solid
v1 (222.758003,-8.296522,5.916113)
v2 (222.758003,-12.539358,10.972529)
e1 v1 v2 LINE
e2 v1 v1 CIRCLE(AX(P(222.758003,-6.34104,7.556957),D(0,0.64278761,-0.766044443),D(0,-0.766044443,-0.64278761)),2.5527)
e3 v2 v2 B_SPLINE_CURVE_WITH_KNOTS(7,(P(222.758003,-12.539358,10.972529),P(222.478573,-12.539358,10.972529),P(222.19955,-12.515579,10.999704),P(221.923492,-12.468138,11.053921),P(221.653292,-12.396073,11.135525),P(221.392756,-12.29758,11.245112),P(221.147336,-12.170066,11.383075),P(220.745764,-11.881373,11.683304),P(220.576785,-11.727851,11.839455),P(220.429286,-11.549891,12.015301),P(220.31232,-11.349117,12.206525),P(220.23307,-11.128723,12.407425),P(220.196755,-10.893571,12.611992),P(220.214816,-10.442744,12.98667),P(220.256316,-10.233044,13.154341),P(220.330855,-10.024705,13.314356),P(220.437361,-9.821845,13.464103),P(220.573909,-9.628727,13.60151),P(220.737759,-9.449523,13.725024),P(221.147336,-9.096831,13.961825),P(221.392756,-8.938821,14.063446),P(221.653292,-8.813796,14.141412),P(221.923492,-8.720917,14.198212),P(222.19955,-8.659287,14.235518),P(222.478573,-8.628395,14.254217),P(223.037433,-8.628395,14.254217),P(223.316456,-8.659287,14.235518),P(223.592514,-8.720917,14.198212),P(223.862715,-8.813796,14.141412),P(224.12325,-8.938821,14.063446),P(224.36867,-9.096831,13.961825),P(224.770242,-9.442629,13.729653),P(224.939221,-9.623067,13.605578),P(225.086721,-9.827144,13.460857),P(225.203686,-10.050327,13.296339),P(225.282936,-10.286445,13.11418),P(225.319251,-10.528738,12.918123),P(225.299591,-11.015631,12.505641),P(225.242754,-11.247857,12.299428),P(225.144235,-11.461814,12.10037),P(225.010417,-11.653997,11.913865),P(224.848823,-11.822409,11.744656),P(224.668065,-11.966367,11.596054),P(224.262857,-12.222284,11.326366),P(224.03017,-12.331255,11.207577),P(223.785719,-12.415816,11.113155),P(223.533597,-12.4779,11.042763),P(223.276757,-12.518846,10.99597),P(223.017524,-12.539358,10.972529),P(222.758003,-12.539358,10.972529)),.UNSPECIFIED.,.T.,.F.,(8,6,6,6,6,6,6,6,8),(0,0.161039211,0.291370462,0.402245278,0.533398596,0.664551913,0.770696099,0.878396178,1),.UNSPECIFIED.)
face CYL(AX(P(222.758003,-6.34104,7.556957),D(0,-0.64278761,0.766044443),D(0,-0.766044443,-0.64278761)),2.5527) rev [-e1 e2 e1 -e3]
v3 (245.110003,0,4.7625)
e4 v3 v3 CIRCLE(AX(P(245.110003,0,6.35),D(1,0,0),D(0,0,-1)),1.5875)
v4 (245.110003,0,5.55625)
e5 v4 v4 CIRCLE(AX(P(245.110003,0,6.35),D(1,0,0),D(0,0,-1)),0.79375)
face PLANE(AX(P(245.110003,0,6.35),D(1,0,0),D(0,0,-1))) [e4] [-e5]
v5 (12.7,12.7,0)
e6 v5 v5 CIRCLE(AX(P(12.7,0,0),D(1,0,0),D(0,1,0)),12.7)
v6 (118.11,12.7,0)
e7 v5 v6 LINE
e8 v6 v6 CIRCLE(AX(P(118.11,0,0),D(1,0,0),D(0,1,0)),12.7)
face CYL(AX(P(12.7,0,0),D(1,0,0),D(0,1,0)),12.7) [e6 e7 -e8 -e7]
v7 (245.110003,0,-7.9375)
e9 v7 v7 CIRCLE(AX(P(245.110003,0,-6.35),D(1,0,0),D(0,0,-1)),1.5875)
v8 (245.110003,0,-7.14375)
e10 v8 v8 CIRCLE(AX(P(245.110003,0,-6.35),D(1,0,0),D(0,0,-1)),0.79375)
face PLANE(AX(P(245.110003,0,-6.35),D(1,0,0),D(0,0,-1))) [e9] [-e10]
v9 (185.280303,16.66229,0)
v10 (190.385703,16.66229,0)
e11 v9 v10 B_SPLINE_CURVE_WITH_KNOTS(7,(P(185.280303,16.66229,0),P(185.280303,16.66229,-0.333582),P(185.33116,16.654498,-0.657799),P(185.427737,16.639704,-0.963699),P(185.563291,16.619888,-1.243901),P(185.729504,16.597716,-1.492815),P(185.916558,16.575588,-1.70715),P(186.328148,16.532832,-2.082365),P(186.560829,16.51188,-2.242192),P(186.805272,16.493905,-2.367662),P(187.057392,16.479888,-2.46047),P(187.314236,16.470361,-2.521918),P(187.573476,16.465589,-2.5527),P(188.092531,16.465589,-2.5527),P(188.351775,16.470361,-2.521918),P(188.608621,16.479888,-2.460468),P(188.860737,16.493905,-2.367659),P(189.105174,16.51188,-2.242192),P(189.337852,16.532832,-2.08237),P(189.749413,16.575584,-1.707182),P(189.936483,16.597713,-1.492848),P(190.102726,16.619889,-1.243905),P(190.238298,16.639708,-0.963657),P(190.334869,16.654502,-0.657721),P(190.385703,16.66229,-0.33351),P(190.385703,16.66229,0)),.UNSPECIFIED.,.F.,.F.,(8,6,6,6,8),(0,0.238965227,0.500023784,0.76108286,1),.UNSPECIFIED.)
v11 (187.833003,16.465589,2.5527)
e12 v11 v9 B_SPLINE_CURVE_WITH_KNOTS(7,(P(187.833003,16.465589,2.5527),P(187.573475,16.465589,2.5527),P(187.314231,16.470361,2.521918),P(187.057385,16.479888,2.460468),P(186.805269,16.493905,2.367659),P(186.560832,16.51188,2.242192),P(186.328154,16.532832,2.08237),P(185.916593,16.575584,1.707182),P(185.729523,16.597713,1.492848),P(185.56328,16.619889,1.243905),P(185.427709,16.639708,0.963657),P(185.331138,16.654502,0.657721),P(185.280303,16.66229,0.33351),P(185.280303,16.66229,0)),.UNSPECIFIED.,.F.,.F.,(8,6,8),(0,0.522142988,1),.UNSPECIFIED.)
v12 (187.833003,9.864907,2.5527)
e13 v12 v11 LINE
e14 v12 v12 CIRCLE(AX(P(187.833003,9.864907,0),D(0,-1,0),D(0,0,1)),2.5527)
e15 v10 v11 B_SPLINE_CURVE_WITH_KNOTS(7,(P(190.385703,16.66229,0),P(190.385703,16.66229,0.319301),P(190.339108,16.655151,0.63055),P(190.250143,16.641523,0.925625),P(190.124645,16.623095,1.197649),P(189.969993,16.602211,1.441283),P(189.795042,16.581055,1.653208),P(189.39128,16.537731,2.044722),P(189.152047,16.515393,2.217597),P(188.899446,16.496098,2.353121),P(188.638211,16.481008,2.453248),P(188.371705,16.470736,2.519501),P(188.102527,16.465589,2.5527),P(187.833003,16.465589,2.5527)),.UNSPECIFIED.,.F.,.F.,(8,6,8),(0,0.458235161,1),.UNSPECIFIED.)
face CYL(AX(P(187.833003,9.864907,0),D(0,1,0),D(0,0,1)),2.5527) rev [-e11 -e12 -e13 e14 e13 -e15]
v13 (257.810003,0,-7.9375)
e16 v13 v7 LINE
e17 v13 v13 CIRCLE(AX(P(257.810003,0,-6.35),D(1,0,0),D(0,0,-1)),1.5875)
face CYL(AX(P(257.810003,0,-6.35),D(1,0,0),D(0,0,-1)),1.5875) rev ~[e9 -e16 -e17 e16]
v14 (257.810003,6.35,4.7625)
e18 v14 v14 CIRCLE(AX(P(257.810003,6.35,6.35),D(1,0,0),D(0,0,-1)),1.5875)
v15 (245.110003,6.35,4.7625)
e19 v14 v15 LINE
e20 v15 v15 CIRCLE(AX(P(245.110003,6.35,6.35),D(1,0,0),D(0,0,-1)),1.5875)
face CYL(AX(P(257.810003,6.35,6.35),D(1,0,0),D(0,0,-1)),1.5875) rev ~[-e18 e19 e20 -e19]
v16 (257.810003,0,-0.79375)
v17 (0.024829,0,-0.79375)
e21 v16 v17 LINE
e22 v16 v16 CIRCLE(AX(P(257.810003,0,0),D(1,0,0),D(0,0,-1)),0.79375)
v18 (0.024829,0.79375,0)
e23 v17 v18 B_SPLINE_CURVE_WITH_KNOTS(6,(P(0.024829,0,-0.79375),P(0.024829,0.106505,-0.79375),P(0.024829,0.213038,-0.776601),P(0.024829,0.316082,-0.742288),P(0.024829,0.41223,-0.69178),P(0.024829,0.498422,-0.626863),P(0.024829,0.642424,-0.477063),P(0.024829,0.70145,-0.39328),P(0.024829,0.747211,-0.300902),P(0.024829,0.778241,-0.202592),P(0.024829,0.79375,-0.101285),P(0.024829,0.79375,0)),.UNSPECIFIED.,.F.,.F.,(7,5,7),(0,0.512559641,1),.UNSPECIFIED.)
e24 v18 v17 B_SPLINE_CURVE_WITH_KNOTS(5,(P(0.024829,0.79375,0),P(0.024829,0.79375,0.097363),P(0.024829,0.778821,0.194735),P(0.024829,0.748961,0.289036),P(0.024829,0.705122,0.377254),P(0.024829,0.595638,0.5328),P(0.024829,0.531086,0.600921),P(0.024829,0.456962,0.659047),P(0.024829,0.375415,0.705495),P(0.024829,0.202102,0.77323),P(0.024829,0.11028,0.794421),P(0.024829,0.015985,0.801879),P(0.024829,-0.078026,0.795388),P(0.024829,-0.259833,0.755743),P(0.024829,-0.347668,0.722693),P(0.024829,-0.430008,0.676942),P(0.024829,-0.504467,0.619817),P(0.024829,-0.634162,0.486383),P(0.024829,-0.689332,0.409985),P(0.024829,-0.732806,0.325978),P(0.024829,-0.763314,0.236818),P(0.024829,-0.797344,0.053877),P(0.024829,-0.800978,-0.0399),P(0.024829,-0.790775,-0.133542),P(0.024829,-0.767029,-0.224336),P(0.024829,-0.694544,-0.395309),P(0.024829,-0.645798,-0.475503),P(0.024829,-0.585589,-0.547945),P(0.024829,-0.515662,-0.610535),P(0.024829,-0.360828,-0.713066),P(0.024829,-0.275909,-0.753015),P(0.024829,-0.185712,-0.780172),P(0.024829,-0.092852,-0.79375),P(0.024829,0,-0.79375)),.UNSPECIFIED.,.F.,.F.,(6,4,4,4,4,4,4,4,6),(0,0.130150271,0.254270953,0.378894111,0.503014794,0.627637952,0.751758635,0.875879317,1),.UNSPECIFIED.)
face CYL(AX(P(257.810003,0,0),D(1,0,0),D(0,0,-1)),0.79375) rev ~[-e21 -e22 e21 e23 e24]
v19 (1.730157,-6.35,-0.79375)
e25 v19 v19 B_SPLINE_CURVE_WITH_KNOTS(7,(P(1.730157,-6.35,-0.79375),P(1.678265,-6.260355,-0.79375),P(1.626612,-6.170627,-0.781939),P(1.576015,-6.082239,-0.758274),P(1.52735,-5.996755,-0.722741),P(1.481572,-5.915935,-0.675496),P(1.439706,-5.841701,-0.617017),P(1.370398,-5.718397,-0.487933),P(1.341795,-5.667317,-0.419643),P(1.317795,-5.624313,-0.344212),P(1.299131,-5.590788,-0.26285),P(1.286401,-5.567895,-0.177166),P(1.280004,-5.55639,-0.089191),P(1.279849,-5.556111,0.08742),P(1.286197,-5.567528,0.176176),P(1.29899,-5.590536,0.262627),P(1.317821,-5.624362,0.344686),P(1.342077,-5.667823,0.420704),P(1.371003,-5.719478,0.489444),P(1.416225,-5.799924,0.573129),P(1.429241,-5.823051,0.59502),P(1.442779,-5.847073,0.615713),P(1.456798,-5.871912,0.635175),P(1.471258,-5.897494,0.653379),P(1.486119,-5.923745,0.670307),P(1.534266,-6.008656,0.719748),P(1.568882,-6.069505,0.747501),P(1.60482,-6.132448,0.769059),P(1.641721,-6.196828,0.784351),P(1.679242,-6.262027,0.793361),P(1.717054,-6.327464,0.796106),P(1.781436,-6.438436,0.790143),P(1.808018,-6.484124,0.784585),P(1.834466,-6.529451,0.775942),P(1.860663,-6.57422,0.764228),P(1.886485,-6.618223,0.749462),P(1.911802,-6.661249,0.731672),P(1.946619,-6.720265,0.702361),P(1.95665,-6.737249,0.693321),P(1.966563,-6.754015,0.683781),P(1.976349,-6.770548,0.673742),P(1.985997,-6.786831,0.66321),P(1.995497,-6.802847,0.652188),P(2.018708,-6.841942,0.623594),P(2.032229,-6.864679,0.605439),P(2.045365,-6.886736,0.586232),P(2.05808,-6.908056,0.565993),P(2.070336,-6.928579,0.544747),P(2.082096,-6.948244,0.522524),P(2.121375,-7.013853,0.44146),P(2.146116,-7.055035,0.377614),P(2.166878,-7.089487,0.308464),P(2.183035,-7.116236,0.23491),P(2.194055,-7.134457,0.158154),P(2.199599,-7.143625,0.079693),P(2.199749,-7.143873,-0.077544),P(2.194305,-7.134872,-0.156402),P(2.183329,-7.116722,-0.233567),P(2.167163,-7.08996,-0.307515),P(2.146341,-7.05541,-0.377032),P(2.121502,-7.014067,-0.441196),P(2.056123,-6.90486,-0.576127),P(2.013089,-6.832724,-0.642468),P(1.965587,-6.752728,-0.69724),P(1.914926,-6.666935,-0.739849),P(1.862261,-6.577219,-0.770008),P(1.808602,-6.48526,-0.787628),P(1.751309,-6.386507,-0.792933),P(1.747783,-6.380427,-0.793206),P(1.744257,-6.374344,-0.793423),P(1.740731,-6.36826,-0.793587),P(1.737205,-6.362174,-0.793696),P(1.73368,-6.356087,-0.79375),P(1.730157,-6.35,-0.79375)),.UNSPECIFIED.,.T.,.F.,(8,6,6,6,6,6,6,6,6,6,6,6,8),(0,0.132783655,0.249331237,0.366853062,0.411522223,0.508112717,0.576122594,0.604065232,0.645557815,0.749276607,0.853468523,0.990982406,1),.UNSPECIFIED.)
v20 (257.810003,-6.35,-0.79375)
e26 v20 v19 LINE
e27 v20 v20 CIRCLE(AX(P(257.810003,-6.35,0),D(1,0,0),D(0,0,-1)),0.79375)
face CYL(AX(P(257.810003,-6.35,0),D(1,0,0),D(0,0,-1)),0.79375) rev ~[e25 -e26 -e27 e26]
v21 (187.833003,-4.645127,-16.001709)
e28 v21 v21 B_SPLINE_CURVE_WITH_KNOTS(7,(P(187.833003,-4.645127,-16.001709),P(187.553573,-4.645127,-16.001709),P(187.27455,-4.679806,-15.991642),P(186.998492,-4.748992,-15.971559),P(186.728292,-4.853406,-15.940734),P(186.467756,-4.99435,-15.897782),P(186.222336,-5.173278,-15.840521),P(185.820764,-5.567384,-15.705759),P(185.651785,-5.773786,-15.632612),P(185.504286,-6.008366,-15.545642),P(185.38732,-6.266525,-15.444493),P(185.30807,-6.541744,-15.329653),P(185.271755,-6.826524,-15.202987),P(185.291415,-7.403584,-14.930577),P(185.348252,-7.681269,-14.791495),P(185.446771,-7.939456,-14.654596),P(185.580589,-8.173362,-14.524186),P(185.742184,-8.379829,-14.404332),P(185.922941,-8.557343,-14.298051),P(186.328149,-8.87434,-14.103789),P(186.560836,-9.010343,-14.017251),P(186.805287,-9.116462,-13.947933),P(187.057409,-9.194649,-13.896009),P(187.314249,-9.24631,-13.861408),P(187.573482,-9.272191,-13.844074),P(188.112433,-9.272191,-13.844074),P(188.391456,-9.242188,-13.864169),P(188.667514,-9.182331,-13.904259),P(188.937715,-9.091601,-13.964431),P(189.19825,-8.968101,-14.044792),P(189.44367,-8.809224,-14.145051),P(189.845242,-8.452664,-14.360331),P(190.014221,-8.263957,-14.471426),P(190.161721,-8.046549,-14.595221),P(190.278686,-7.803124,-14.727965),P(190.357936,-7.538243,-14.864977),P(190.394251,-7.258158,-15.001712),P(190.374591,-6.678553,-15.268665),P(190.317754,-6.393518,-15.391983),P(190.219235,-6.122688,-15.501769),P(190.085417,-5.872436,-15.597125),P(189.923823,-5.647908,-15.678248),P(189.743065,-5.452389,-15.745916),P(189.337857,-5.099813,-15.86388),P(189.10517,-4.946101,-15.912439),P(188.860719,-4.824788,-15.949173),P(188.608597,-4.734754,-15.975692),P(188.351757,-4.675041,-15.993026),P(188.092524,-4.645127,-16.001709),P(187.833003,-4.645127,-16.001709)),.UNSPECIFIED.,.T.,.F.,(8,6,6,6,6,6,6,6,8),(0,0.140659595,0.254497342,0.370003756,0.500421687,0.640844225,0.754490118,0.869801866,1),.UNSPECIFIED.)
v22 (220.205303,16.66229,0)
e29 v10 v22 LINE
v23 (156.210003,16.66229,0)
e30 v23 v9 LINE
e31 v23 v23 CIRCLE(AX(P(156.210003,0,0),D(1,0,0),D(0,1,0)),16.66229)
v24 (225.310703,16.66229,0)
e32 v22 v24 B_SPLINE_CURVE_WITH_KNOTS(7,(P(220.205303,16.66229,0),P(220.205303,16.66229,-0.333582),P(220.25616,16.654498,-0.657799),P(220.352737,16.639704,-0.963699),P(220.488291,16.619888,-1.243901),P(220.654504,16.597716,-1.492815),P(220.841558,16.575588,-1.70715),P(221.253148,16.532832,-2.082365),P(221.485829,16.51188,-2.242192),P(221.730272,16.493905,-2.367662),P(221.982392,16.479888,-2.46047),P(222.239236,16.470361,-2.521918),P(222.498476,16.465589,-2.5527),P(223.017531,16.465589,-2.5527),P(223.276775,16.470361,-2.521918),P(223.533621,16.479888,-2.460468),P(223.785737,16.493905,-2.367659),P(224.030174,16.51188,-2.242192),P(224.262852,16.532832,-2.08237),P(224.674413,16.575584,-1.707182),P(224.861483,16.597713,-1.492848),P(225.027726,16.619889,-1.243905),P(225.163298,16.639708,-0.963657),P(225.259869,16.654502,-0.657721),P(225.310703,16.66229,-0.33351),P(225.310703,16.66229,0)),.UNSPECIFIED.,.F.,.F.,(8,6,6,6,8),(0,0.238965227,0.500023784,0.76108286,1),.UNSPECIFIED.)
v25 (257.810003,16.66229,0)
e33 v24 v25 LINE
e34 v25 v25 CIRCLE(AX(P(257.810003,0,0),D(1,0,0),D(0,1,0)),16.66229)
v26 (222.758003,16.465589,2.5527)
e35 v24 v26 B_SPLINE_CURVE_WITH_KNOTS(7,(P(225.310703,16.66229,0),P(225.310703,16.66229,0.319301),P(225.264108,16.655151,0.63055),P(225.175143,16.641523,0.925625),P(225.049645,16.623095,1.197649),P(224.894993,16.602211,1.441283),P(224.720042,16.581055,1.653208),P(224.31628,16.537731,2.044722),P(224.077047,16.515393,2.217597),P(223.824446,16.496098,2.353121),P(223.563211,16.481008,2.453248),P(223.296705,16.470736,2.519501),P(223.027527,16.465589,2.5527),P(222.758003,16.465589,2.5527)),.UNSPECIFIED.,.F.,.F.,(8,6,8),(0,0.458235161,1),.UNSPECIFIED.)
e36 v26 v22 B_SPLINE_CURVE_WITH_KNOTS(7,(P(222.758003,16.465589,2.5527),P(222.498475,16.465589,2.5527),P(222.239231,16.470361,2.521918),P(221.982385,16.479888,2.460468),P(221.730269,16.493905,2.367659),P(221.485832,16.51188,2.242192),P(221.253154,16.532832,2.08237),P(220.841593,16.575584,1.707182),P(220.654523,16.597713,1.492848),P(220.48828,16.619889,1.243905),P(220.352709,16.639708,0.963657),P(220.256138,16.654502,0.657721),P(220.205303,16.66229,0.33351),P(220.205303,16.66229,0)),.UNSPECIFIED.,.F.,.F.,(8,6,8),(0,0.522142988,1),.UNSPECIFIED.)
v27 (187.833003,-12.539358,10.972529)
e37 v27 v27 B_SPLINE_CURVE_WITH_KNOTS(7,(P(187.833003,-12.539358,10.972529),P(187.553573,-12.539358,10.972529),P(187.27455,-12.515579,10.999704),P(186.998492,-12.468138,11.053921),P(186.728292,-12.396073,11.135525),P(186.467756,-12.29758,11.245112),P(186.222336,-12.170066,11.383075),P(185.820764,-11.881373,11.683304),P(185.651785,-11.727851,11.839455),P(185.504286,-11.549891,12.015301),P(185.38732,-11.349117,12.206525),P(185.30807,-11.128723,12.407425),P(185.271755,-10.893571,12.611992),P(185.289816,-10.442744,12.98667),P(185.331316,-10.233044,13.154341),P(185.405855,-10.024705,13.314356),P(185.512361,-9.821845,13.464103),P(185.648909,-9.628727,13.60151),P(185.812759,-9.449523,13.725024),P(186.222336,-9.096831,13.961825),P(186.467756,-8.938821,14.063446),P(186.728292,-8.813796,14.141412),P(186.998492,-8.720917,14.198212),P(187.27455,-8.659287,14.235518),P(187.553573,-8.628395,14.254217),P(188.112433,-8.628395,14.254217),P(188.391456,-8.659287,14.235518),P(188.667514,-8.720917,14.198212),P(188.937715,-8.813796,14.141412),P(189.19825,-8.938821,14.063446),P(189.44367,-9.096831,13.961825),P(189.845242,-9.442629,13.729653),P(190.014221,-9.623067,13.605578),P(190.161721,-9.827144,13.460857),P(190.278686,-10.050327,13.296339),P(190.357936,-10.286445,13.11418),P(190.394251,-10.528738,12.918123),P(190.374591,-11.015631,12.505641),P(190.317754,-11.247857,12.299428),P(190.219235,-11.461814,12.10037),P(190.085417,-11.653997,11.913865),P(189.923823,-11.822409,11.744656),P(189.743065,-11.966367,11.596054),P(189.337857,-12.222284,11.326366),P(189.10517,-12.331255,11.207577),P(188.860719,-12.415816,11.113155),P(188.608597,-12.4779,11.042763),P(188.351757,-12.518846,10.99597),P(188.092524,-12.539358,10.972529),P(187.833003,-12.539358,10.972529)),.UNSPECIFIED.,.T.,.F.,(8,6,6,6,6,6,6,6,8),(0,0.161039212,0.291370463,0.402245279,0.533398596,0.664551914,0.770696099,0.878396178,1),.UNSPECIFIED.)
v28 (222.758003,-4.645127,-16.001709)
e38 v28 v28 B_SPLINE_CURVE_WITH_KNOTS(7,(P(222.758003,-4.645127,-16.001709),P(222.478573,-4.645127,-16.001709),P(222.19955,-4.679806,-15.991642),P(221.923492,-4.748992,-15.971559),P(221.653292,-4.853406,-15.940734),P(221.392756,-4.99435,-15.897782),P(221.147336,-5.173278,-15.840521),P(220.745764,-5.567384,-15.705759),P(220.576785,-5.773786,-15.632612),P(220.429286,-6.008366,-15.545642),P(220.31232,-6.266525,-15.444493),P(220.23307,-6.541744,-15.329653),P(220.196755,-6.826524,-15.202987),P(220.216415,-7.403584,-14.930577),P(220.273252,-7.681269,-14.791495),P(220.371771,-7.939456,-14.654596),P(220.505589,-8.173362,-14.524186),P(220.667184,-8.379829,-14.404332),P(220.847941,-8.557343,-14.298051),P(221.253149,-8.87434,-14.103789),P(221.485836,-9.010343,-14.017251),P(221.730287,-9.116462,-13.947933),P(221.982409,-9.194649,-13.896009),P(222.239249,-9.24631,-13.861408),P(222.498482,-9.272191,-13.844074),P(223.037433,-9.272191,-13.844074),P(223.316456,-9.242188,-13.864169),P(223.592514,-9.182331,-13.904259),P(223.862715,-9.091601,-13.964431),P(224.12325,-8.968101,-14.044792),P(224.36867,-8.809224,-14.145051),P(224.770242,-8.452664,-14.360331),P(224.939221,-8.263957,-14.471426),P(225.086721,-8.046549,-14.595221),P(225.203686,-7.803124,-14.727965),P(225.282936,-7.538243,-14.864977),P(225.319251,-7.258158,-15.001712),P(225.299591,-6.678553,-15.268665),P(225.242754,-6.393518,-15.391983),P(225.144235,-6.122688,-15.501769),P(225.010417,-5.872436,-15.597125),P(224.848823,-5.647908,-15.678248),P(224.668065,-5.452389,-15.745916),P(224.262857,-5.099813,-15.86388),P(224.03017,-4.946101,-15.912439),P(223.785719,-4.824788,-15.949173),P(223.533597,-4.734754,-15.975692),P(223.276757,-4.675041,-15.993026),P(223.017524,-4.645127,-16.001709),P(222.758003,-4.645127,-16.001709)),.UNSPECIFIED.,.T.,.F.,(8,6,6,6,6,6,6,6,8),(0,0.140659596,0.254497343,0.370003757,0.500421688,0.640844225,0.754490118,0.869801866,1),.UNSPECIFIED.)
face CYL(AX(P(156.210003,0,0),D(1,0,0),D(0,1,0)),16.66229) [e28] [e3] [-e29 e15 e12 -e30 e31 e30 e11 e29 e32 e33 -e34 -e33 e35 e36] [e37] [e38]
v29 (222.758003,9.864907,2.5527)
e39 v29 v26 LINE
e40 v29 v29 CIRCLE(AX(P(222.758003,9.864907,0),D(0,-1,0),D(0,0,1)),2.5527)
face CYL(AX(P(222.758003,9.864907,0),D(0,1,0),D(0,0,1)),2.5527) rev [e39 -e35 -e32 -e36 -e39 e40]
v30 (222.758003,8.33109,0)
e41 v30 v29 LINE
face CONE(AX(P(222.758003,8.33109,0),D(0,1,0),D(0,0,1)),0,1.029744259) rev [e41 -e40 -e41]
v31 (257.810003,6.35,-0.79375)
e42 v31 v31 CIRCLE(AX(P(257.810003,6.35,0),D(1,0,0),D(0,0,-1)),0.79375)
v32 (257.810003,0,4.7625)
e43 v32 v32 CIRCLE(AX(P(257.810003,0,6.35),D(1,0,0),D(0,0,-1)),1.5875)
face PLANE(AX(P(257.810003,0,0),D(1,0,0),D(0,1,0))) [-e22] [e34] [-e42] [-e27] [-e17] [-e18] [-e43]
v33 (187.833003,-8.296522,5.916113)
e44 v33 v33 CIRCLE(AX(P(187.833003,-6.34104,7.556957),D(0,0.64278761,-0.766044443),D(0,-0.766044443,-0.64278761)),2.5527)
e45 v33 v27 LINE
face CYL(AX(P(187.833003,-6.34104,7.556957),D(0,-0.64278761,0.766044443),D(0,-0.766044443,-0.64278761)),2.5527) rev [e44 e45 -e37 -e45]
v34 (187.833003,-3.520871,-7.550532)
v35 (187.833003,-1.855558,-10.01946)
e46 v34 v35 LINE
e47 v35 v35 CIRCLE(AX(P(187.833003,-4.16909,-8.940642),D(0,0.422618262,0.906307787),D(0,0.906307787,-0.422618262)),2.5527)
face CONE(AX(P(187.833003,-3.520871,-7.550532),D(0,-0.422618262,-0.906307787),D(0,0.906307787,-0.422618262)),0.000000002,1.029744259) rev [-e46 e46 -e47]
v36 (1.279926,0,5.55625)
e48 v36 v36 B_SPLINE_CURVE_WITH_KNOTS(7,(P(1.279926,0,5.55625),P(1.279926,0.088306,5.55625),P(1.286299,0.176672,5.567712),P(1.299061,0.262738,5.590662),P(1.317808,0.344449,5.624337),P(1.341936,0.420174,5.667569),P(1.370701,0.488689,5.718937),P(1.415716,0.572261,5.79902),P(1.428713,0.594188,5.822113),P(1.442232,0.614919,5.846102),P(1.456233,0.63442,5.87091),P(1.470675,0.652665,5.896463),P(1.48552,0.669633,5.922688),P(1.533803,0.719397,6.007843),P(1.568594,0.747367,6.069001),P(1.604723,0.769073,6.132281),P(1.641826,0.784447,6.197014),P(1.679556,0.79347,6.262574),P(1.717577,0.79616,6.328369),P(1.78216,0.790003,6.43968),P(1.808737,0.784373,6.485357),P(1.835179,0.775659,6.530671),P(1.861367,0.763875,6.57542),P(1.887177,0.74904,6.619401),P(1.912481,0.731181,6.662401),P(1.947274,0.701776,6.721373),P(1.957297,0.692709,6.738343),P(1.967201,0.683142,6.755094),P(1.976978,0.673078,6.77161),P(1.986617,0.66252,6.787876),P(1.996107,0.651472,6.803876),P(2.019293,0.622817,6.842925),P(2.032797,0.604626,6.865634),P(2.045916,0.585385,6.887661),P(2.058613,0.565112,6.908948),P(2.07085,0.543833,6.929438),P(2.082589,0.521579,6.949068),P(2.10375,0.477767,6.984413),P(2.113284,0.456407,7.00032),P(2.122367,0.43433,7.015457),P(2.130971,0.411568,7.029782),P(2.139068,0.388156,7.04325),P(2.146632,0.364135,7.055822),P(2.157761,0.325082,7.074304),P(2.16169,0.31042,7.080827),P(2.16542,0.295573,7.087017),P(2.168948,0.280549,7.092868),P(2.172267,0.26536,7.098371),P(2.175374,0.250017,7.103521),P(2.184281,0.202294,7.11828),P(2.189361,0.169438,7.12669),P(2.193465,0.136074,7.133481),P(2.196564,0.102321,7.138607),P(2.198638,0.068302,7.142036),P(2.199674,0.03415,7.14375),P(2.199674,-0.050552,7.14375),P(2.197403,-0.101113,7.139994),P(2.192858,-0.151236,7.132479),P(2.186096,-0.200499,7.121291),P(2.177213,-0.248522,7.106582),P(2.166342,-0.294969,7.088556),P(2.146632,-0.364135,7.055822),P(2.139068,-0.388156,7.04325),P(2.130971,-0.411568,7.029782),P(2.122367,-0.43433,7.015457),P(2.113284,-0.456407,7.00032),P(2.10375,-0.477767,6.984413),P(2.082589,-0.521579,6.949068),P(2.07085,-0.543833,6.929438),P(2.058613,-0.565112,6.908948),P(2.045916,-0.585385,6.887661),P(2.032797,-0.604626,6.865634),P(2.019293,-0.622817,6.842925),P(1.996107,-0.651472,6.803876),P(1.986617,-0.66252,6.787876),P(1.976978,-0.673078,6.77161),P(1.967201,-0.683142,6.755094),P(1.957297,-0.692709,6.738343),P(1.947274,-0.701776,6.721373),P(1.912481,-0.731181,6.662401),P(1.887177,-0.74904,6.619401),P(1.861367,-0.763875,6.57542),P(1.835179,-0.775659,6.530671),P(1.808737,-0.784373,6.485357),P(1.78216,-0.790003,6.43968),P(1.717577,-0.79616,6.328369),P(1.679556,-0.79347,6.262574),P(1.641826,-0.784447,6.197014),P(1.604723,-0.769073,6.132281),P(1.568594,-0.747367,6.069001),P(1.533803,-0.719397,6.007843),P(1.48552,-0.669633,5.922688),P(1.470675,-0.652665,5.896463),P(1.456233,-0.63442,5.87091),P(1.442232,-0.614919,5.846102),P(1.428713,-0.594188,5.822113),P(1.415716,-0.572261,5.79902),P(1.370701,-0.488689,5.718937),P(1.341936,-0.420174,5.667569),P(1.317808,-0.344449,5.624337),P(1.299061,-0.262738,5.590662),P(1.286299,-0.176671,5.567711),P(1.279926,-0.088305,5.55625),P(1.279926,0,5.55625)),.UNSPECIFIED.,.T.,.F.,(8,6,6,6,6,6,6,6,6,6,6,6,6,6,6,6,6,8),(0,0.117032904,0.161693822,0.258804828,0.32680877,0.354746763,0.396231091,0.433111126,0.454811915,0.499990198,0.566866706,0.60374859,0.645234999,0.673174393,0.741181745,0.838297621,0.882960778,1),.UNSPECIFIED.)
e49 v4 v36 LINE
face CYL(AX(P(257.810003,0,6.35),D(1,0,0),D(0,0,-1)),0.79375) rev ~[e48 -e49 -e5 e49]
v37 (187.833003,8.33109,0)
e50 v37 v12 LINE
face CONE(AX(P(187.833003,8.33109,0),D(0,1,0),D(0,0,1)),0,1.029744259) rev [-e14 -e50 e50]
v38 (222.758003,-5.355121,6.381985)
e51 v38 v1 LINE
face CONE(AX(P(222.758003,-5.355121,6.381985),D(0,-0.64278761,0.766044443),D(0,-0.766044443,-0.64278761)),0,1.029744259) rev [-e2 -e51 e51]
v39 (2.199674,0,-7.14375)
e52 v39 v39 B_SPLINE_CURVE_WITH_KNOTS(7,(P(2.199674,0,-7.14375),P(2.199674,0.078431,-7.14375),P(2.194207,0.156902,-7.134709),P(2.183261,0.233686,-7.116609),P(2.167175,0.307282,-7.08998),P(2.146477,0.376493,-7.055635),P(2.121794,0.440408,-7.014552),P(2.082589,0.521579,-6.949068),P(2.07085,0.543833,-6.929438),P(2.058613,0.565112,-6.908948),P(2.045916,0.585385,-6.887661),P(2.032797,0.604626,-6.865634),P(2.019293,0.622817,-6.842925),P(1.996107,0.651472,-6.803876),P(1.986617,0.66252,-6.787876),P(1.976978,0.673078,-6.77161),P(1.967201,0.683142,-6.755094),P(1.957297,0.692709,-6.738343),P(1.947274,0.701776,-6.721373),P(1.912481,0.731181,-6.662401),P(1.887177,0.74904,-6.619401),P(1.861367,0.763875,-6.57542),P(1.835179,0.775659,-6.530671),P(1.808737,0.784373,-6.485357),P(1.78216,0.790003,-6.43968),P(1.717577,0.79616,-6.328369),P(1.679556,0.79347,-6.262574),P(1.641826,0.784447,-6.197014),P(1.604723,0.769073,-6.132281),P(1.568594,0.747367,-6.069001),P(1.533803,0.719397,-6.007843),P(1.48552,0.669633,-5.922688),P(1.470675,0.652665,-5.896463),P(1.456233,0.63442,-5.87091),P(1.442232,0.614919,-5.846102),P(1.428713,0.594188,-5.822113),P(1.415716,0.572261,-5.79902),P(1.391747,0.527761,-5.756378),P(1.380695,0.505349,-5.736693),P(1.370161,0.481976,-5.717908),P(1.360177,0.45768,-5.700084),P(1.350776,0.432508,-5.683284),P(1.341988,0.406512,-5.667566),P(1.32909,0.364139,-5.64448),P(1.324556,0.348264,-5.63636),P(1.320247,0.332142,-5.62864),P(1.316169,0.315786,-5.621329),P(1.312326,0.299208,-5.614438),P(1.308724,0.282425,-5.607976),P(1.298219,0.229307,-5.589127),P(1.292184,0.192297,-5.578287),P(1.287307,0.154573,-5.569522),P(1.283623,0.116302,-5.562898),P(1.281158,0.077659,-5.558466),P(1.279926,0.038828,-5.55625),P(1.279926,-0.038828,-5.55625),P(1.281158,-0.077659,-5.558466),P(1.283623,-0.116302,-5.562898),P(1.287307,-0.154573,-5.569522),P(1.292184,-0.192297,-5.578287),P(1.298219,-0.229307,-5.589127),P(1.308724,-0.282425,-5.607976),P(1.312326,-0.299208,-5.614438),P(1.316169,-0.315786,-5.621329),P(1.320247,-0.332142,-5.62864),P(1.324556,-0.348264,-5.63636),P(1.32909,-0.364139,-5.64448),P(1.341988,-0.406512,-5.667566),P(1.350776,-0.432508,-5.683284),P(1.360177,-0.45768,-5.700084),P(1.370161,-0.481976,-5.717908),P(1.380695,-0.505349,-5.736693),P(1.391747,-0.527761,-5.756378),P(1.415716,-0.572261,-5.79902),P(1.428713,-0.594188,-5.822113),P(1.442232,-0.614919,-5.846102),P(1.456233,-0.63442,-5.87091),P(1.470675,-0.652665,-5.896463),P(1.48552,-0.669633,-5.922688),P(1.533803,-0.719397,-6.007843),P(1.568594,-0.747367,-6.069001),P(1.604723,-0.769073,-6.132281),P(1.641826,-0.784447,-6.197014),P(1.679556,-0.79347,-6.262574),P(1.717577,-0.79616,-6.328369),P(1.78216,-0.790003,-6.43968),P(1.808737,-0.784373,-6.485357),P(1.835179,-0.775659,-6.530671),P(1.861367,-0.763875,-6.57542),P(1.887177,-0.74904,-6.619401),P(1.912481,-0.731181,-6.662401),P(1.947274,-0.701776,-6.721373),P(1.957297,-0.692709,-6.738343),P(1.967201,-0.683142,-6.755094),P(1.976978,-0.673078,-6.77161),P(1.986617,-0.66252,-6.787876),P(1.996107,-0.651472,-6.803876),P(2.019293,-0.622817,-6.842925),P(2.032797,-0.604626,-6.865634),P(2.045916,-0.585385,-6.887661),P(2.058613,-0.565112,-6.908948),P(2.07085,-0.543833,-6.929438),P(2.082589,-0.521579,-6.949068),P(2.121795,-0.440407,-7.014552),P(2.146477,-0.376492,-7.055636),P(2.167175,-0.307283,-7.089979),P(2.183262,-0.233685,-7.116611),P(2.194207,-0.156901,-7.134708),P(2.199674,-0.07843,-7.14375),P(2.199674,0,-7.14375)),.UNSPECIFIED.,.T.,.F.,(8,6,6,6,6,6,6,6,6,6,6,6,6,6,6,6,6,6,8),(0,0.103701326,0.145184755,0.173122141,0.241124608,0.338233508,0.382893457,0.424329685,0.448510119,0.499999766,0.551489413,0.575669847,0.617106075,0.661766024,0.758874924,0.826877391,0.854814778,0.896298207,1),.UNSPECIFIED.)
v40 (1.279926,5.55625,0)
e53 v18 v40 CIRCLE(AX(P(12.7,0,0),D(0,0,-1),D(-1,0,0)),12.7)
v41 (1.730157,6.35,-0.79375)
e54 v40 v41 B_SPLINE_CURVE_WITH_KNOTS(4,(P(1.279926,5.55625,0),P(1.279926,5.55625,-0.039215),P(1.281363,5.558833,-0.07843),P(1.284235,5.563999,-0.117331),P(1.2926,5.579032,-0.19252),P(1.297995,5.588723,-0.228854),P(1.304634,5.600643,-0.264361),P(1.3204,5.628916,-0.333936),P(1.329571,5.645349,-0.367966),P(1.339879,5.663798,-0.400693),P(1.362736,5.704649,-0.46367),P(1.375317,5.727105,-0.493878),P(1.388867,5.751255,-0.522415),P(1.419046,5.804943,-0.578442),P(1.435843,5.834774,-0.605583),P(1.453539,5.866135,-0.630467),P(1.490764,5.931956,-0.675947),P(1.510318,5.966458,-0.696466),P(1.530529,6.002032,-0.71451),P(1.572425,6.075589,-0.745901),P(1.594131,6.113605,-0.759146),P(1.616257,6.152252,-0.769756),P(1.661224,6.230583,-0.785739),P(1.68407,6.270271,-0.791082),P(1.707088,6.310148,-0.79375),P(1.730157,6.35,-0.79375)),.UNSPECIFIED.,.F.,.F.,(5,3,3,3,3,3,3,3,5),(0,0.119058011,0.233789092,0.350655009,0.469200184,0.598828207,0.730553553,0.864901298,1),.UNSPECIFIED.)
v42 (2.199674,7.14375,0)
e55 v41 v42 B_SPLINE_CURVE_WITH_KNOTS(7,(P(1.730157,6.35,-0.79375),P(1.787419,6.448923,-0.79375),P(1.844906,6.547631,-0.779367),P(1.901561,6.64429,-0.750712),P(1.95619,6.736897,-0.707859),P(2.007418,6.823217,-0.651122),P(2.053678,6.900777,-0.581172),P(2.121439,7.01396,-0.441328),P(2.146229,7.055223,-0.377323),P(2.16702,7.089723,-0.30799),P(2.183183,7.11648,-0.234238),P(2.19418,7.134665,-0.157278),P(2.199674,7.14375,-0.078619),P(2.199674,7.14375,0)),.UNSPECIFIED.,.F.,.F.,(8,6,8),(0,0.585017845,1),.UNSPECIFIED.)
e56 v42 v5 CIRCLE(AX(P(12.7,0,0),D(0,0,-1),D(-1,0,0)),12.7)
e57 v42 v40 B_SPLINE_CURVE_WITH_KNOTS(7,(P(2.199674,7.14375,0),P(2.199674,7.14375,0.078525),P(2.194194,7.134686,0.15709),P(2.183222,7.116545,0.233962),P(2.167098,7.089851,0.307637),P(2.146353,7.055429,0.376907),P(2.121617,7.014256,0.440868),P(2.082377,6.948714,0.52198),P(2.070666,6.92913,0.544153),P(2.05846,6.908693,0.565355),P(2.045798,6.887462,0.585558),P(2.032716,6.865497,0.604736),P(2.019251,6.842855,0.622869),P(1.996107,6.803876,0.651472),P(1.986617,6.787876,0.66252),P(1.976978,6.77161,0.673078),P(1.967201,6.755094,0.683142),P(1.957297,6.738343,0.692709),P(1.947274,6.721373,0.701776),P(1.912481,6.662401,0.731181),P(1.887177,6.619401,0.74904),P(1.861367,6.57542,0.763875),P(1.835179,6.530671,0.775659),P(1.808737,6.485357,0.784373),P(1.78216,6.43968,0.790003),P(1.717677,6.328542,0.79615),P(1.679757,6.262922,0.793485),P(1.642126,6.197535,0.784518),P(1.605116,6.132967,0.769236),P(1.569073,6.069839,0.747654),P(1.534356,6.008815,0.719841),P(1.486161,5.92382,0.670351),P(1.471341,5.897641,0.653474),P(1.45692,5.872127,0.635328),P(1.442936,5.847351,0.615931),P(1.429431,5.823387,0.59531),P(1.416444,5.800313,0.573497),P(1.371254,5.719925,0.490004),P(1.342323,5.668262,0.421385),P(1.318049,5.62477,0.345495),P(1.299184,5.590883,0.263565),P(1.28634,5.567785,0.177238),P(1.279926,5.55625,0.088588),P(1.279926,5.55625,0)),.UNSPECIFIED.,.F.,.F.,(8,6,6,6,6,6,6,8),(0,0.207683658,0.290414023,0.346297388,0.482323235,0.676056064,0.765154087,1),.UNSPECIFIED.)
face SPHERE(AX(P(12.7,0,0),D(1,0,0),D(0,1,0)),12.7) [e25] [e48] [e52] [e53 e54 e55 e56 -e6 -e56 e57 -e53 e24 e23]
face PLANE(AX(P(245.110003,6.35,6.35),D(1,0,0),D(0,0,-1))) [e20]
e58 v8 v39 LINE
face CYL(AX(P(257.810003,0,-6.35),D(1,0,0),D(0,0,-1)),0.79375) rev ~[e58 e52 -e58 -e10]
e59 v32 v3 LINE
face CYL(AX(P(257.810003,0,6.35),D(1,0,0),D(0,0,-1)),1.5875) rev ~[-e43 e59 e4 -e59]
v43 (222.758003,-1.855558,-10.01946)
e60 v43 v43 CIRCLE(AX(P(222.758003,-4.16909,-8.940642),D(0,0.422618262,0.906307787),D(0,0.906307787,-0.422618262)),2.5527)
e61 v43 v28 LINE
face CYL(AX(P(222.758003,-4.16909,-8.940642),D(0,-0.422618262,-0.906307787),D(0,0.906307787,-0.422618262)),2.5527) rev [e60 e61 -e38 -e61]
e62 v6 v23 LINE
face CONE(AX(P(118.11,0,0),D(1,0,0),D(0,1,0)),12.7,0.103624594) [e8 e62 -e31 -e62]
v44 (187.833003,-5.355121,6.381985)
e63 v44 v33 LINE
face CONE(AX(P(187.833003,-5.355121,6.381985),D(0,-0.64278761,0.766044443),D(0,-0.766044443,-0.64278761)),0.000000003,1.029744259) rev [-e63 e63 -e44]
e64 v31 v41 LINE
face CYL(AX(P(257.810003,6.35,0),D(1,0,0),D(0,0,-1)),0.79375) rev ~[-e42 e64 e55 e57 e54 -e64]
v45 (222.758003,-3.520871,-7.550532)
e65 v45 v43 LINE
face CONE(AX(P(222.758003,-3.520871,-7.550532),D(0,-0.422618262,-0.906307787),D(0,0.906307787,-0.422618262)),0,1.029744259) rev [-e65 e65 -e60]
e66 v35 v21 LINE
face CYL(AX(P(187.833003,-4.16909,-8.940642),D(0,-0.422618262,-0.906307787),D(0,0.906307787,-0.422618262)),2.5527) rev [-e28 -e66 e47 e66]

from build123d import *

# Parameters (mm, degrees)
SKETCH3_R                             = 0.79375
CUT_EXTRUDE1_DEPTH                    = 258.810003035
SKETCH4_R                             = 1.5875
CUT_EXTRUDE2_DEPTH                    = 12.7
TAP_DRILL_FOR_10_HELICOIL2_AT_2_COUNT = 2
TAP_DRILL_FOR_10_HELICOIL2_AT_2_PITCH = 34.925
CIRPATTERN2_COUNT                     = 3
CIRPATTERN2_ANGLE                     = 230
SKETCH11_R                            = 1.5875
CUT_EXTRUDE3_DEPTH                    = 12.7


with BuildPart() as part:
    # Sketch1 → Revolve1 (revolve)
    with BuildSketch(Plane.XY):
        with BuildLine():
            Line((12.7, 12.7), (118.11, 12.7))
            Line((118.11, 12.7), (156.210003035, 16.662289952))
            Line((156.210003035, 16.662289952), (257.810003035, 16.662289952))
            Line((257.810003035, 16.662289952), (257.810003035, 0))
            Line((257.810003035, 0), (0, 0))
            ThreePointArc((0, 0), (3.719743879, 8.980256121), (12.7, 12.7))
        make_face()
    revolve(axis=Axis((0, 0, 0), (1, 0, 0)))

    # Sketch3 → Cut-Extrude1 (cut, through all)
    with BuildSketch(Plane(origin=(257.810003035, 0, 0), x_dir=(0, 0, -1), z_dir=(1, 0, 0))):
        Circle(SKETCH3_R)
        with Locations((6.35, 0)):
            Circle(SKETCH3_R)
        with Locations((-6.35, 0)):
            Circle(SKETCH3_R)
        with Locations((0, 6.35)):
            Circle(SKETCH3_R)
        with Locations((0, -6.35)):
            Circle(SKETCH3_R)
    extrude(amount=-CUT_EXTRUDE1_DEPTH, mode=Mode.SUBTRACT)

    # Sketch4 → Cut-Extrude2 (cut)
    with BuildSketch(Plane(origin=(257.810003035, 0, 0), x_dir=(0, 0, -1), z_dir=(1, 0, 0))):
        with Locations((-6.35, 0)):
            Circle(SKETCH4_R)
        with Locations((6.35, 0)):
            Circle(SKETCH4_R)
    extrude(amount=-CUT_EXTRUDE2_DEPTH, mode=Mode.SUBTRACT)

    # Sketch8 → Tap Drill for #10 Helicoil2 (revolve, cut)
    with BuildSketch(Plane(origin=(222.758003035, 16.662289952, 0), x_dir=(0, 0, 1), z_dir=(1, 0, 0))):
        Polygon((0, 0), (0, 8.3312), (2.5527, 6.797383098), (2.5527, 0), align=None)
    tap_drill_for_10_helicoil2 = revolve(axis=Axis((222.758003035, 23.012289952, 0), (0, -1, 0)), mode=Mode.SUBTRACT)

    # Tap Drill for #10 Helicoil2 at 2: Tap Drill for #10 Helicoil2 ×2
    with Locations(*[(-i * TAP_DRILL_FOR_10_HELICOIL2_AT_2_PITCH, 0, 0) for i in range(1, TAP_DRILL_FOR_10_HELICOIL2_AT_2_COUNT)]):
        add(tap_drill_for_10_helicoil2, mode=Mode.SUBTRACT)

    # CirPattern2: Tap Drill for #10 Helicoil2 ×3 about axis
    cirpattern2_axis = Axis((257.810003035, 0, 0), (-1, 0, 0))
    for i in range(1, CIRPATTERN2_COUNT):
        add(tap_drill_for_10_helicoil2.rotate(cirpattern2_axis, i * CIRPATTERN2_ANGLE / (CIRPATTERN2_COUNT - 1)), mode=Mode.SUBTRACT)

    # CirPattern2 copy 1 sketch → CirPattern2 copy 1 (revolve, cut)
    with BuildSketch(Plane(origin=(187.833003035, -7.041788016, -15.101163133), x_dir=(0, 0.906307787, -0.422618262), z_dir=(1, 0, 0))):
        Polygon((0, 0), (0, 8.3312), (2.5527, 6.797383098), (2.5527, 0), align=None)
    revolve(axis=Axis((187.833003035, -9.725413978, -20.856217581), (0, 0.422618262, 0.906307787)), mode=Mode.SUBTRACT)

    # CirPattern2 copy 2 sketch → CirPattern2 copy 2 (revolve, cut)
    with BuildSketch(Plane(origin=(187.833003035, -10.71031353, 12.764054627), x_dir=(0, -0.766044443, -0.64278761), z_dir=(1, 0, 0))):
        Polygon((0, 0), (0, 8.3312), (2.5527, 6.797383098), (2.5527, 0), align=None)
    revolve(axis=Axis((187.833003035, -14.792014851, 17.628436841), (0, 0.64278761, -0.766044443)), mode=Mode.SUBTRACT)

    # Sketch11 → Cut-Extrude3 (cut)
    with BuildSketch(Plane(origin=(257.810003035, 0, 0), x_dir=(0, 0, -1), z_dir=(1, 0, 0))):
        with Locations((-6.35, 6.35)):
            Circle(SKETCH11_R)
    extrude(amount=-CUT_EXTRUDE3_DEPTH, mode=Mode.SUBTRACT)


solid = part.part
